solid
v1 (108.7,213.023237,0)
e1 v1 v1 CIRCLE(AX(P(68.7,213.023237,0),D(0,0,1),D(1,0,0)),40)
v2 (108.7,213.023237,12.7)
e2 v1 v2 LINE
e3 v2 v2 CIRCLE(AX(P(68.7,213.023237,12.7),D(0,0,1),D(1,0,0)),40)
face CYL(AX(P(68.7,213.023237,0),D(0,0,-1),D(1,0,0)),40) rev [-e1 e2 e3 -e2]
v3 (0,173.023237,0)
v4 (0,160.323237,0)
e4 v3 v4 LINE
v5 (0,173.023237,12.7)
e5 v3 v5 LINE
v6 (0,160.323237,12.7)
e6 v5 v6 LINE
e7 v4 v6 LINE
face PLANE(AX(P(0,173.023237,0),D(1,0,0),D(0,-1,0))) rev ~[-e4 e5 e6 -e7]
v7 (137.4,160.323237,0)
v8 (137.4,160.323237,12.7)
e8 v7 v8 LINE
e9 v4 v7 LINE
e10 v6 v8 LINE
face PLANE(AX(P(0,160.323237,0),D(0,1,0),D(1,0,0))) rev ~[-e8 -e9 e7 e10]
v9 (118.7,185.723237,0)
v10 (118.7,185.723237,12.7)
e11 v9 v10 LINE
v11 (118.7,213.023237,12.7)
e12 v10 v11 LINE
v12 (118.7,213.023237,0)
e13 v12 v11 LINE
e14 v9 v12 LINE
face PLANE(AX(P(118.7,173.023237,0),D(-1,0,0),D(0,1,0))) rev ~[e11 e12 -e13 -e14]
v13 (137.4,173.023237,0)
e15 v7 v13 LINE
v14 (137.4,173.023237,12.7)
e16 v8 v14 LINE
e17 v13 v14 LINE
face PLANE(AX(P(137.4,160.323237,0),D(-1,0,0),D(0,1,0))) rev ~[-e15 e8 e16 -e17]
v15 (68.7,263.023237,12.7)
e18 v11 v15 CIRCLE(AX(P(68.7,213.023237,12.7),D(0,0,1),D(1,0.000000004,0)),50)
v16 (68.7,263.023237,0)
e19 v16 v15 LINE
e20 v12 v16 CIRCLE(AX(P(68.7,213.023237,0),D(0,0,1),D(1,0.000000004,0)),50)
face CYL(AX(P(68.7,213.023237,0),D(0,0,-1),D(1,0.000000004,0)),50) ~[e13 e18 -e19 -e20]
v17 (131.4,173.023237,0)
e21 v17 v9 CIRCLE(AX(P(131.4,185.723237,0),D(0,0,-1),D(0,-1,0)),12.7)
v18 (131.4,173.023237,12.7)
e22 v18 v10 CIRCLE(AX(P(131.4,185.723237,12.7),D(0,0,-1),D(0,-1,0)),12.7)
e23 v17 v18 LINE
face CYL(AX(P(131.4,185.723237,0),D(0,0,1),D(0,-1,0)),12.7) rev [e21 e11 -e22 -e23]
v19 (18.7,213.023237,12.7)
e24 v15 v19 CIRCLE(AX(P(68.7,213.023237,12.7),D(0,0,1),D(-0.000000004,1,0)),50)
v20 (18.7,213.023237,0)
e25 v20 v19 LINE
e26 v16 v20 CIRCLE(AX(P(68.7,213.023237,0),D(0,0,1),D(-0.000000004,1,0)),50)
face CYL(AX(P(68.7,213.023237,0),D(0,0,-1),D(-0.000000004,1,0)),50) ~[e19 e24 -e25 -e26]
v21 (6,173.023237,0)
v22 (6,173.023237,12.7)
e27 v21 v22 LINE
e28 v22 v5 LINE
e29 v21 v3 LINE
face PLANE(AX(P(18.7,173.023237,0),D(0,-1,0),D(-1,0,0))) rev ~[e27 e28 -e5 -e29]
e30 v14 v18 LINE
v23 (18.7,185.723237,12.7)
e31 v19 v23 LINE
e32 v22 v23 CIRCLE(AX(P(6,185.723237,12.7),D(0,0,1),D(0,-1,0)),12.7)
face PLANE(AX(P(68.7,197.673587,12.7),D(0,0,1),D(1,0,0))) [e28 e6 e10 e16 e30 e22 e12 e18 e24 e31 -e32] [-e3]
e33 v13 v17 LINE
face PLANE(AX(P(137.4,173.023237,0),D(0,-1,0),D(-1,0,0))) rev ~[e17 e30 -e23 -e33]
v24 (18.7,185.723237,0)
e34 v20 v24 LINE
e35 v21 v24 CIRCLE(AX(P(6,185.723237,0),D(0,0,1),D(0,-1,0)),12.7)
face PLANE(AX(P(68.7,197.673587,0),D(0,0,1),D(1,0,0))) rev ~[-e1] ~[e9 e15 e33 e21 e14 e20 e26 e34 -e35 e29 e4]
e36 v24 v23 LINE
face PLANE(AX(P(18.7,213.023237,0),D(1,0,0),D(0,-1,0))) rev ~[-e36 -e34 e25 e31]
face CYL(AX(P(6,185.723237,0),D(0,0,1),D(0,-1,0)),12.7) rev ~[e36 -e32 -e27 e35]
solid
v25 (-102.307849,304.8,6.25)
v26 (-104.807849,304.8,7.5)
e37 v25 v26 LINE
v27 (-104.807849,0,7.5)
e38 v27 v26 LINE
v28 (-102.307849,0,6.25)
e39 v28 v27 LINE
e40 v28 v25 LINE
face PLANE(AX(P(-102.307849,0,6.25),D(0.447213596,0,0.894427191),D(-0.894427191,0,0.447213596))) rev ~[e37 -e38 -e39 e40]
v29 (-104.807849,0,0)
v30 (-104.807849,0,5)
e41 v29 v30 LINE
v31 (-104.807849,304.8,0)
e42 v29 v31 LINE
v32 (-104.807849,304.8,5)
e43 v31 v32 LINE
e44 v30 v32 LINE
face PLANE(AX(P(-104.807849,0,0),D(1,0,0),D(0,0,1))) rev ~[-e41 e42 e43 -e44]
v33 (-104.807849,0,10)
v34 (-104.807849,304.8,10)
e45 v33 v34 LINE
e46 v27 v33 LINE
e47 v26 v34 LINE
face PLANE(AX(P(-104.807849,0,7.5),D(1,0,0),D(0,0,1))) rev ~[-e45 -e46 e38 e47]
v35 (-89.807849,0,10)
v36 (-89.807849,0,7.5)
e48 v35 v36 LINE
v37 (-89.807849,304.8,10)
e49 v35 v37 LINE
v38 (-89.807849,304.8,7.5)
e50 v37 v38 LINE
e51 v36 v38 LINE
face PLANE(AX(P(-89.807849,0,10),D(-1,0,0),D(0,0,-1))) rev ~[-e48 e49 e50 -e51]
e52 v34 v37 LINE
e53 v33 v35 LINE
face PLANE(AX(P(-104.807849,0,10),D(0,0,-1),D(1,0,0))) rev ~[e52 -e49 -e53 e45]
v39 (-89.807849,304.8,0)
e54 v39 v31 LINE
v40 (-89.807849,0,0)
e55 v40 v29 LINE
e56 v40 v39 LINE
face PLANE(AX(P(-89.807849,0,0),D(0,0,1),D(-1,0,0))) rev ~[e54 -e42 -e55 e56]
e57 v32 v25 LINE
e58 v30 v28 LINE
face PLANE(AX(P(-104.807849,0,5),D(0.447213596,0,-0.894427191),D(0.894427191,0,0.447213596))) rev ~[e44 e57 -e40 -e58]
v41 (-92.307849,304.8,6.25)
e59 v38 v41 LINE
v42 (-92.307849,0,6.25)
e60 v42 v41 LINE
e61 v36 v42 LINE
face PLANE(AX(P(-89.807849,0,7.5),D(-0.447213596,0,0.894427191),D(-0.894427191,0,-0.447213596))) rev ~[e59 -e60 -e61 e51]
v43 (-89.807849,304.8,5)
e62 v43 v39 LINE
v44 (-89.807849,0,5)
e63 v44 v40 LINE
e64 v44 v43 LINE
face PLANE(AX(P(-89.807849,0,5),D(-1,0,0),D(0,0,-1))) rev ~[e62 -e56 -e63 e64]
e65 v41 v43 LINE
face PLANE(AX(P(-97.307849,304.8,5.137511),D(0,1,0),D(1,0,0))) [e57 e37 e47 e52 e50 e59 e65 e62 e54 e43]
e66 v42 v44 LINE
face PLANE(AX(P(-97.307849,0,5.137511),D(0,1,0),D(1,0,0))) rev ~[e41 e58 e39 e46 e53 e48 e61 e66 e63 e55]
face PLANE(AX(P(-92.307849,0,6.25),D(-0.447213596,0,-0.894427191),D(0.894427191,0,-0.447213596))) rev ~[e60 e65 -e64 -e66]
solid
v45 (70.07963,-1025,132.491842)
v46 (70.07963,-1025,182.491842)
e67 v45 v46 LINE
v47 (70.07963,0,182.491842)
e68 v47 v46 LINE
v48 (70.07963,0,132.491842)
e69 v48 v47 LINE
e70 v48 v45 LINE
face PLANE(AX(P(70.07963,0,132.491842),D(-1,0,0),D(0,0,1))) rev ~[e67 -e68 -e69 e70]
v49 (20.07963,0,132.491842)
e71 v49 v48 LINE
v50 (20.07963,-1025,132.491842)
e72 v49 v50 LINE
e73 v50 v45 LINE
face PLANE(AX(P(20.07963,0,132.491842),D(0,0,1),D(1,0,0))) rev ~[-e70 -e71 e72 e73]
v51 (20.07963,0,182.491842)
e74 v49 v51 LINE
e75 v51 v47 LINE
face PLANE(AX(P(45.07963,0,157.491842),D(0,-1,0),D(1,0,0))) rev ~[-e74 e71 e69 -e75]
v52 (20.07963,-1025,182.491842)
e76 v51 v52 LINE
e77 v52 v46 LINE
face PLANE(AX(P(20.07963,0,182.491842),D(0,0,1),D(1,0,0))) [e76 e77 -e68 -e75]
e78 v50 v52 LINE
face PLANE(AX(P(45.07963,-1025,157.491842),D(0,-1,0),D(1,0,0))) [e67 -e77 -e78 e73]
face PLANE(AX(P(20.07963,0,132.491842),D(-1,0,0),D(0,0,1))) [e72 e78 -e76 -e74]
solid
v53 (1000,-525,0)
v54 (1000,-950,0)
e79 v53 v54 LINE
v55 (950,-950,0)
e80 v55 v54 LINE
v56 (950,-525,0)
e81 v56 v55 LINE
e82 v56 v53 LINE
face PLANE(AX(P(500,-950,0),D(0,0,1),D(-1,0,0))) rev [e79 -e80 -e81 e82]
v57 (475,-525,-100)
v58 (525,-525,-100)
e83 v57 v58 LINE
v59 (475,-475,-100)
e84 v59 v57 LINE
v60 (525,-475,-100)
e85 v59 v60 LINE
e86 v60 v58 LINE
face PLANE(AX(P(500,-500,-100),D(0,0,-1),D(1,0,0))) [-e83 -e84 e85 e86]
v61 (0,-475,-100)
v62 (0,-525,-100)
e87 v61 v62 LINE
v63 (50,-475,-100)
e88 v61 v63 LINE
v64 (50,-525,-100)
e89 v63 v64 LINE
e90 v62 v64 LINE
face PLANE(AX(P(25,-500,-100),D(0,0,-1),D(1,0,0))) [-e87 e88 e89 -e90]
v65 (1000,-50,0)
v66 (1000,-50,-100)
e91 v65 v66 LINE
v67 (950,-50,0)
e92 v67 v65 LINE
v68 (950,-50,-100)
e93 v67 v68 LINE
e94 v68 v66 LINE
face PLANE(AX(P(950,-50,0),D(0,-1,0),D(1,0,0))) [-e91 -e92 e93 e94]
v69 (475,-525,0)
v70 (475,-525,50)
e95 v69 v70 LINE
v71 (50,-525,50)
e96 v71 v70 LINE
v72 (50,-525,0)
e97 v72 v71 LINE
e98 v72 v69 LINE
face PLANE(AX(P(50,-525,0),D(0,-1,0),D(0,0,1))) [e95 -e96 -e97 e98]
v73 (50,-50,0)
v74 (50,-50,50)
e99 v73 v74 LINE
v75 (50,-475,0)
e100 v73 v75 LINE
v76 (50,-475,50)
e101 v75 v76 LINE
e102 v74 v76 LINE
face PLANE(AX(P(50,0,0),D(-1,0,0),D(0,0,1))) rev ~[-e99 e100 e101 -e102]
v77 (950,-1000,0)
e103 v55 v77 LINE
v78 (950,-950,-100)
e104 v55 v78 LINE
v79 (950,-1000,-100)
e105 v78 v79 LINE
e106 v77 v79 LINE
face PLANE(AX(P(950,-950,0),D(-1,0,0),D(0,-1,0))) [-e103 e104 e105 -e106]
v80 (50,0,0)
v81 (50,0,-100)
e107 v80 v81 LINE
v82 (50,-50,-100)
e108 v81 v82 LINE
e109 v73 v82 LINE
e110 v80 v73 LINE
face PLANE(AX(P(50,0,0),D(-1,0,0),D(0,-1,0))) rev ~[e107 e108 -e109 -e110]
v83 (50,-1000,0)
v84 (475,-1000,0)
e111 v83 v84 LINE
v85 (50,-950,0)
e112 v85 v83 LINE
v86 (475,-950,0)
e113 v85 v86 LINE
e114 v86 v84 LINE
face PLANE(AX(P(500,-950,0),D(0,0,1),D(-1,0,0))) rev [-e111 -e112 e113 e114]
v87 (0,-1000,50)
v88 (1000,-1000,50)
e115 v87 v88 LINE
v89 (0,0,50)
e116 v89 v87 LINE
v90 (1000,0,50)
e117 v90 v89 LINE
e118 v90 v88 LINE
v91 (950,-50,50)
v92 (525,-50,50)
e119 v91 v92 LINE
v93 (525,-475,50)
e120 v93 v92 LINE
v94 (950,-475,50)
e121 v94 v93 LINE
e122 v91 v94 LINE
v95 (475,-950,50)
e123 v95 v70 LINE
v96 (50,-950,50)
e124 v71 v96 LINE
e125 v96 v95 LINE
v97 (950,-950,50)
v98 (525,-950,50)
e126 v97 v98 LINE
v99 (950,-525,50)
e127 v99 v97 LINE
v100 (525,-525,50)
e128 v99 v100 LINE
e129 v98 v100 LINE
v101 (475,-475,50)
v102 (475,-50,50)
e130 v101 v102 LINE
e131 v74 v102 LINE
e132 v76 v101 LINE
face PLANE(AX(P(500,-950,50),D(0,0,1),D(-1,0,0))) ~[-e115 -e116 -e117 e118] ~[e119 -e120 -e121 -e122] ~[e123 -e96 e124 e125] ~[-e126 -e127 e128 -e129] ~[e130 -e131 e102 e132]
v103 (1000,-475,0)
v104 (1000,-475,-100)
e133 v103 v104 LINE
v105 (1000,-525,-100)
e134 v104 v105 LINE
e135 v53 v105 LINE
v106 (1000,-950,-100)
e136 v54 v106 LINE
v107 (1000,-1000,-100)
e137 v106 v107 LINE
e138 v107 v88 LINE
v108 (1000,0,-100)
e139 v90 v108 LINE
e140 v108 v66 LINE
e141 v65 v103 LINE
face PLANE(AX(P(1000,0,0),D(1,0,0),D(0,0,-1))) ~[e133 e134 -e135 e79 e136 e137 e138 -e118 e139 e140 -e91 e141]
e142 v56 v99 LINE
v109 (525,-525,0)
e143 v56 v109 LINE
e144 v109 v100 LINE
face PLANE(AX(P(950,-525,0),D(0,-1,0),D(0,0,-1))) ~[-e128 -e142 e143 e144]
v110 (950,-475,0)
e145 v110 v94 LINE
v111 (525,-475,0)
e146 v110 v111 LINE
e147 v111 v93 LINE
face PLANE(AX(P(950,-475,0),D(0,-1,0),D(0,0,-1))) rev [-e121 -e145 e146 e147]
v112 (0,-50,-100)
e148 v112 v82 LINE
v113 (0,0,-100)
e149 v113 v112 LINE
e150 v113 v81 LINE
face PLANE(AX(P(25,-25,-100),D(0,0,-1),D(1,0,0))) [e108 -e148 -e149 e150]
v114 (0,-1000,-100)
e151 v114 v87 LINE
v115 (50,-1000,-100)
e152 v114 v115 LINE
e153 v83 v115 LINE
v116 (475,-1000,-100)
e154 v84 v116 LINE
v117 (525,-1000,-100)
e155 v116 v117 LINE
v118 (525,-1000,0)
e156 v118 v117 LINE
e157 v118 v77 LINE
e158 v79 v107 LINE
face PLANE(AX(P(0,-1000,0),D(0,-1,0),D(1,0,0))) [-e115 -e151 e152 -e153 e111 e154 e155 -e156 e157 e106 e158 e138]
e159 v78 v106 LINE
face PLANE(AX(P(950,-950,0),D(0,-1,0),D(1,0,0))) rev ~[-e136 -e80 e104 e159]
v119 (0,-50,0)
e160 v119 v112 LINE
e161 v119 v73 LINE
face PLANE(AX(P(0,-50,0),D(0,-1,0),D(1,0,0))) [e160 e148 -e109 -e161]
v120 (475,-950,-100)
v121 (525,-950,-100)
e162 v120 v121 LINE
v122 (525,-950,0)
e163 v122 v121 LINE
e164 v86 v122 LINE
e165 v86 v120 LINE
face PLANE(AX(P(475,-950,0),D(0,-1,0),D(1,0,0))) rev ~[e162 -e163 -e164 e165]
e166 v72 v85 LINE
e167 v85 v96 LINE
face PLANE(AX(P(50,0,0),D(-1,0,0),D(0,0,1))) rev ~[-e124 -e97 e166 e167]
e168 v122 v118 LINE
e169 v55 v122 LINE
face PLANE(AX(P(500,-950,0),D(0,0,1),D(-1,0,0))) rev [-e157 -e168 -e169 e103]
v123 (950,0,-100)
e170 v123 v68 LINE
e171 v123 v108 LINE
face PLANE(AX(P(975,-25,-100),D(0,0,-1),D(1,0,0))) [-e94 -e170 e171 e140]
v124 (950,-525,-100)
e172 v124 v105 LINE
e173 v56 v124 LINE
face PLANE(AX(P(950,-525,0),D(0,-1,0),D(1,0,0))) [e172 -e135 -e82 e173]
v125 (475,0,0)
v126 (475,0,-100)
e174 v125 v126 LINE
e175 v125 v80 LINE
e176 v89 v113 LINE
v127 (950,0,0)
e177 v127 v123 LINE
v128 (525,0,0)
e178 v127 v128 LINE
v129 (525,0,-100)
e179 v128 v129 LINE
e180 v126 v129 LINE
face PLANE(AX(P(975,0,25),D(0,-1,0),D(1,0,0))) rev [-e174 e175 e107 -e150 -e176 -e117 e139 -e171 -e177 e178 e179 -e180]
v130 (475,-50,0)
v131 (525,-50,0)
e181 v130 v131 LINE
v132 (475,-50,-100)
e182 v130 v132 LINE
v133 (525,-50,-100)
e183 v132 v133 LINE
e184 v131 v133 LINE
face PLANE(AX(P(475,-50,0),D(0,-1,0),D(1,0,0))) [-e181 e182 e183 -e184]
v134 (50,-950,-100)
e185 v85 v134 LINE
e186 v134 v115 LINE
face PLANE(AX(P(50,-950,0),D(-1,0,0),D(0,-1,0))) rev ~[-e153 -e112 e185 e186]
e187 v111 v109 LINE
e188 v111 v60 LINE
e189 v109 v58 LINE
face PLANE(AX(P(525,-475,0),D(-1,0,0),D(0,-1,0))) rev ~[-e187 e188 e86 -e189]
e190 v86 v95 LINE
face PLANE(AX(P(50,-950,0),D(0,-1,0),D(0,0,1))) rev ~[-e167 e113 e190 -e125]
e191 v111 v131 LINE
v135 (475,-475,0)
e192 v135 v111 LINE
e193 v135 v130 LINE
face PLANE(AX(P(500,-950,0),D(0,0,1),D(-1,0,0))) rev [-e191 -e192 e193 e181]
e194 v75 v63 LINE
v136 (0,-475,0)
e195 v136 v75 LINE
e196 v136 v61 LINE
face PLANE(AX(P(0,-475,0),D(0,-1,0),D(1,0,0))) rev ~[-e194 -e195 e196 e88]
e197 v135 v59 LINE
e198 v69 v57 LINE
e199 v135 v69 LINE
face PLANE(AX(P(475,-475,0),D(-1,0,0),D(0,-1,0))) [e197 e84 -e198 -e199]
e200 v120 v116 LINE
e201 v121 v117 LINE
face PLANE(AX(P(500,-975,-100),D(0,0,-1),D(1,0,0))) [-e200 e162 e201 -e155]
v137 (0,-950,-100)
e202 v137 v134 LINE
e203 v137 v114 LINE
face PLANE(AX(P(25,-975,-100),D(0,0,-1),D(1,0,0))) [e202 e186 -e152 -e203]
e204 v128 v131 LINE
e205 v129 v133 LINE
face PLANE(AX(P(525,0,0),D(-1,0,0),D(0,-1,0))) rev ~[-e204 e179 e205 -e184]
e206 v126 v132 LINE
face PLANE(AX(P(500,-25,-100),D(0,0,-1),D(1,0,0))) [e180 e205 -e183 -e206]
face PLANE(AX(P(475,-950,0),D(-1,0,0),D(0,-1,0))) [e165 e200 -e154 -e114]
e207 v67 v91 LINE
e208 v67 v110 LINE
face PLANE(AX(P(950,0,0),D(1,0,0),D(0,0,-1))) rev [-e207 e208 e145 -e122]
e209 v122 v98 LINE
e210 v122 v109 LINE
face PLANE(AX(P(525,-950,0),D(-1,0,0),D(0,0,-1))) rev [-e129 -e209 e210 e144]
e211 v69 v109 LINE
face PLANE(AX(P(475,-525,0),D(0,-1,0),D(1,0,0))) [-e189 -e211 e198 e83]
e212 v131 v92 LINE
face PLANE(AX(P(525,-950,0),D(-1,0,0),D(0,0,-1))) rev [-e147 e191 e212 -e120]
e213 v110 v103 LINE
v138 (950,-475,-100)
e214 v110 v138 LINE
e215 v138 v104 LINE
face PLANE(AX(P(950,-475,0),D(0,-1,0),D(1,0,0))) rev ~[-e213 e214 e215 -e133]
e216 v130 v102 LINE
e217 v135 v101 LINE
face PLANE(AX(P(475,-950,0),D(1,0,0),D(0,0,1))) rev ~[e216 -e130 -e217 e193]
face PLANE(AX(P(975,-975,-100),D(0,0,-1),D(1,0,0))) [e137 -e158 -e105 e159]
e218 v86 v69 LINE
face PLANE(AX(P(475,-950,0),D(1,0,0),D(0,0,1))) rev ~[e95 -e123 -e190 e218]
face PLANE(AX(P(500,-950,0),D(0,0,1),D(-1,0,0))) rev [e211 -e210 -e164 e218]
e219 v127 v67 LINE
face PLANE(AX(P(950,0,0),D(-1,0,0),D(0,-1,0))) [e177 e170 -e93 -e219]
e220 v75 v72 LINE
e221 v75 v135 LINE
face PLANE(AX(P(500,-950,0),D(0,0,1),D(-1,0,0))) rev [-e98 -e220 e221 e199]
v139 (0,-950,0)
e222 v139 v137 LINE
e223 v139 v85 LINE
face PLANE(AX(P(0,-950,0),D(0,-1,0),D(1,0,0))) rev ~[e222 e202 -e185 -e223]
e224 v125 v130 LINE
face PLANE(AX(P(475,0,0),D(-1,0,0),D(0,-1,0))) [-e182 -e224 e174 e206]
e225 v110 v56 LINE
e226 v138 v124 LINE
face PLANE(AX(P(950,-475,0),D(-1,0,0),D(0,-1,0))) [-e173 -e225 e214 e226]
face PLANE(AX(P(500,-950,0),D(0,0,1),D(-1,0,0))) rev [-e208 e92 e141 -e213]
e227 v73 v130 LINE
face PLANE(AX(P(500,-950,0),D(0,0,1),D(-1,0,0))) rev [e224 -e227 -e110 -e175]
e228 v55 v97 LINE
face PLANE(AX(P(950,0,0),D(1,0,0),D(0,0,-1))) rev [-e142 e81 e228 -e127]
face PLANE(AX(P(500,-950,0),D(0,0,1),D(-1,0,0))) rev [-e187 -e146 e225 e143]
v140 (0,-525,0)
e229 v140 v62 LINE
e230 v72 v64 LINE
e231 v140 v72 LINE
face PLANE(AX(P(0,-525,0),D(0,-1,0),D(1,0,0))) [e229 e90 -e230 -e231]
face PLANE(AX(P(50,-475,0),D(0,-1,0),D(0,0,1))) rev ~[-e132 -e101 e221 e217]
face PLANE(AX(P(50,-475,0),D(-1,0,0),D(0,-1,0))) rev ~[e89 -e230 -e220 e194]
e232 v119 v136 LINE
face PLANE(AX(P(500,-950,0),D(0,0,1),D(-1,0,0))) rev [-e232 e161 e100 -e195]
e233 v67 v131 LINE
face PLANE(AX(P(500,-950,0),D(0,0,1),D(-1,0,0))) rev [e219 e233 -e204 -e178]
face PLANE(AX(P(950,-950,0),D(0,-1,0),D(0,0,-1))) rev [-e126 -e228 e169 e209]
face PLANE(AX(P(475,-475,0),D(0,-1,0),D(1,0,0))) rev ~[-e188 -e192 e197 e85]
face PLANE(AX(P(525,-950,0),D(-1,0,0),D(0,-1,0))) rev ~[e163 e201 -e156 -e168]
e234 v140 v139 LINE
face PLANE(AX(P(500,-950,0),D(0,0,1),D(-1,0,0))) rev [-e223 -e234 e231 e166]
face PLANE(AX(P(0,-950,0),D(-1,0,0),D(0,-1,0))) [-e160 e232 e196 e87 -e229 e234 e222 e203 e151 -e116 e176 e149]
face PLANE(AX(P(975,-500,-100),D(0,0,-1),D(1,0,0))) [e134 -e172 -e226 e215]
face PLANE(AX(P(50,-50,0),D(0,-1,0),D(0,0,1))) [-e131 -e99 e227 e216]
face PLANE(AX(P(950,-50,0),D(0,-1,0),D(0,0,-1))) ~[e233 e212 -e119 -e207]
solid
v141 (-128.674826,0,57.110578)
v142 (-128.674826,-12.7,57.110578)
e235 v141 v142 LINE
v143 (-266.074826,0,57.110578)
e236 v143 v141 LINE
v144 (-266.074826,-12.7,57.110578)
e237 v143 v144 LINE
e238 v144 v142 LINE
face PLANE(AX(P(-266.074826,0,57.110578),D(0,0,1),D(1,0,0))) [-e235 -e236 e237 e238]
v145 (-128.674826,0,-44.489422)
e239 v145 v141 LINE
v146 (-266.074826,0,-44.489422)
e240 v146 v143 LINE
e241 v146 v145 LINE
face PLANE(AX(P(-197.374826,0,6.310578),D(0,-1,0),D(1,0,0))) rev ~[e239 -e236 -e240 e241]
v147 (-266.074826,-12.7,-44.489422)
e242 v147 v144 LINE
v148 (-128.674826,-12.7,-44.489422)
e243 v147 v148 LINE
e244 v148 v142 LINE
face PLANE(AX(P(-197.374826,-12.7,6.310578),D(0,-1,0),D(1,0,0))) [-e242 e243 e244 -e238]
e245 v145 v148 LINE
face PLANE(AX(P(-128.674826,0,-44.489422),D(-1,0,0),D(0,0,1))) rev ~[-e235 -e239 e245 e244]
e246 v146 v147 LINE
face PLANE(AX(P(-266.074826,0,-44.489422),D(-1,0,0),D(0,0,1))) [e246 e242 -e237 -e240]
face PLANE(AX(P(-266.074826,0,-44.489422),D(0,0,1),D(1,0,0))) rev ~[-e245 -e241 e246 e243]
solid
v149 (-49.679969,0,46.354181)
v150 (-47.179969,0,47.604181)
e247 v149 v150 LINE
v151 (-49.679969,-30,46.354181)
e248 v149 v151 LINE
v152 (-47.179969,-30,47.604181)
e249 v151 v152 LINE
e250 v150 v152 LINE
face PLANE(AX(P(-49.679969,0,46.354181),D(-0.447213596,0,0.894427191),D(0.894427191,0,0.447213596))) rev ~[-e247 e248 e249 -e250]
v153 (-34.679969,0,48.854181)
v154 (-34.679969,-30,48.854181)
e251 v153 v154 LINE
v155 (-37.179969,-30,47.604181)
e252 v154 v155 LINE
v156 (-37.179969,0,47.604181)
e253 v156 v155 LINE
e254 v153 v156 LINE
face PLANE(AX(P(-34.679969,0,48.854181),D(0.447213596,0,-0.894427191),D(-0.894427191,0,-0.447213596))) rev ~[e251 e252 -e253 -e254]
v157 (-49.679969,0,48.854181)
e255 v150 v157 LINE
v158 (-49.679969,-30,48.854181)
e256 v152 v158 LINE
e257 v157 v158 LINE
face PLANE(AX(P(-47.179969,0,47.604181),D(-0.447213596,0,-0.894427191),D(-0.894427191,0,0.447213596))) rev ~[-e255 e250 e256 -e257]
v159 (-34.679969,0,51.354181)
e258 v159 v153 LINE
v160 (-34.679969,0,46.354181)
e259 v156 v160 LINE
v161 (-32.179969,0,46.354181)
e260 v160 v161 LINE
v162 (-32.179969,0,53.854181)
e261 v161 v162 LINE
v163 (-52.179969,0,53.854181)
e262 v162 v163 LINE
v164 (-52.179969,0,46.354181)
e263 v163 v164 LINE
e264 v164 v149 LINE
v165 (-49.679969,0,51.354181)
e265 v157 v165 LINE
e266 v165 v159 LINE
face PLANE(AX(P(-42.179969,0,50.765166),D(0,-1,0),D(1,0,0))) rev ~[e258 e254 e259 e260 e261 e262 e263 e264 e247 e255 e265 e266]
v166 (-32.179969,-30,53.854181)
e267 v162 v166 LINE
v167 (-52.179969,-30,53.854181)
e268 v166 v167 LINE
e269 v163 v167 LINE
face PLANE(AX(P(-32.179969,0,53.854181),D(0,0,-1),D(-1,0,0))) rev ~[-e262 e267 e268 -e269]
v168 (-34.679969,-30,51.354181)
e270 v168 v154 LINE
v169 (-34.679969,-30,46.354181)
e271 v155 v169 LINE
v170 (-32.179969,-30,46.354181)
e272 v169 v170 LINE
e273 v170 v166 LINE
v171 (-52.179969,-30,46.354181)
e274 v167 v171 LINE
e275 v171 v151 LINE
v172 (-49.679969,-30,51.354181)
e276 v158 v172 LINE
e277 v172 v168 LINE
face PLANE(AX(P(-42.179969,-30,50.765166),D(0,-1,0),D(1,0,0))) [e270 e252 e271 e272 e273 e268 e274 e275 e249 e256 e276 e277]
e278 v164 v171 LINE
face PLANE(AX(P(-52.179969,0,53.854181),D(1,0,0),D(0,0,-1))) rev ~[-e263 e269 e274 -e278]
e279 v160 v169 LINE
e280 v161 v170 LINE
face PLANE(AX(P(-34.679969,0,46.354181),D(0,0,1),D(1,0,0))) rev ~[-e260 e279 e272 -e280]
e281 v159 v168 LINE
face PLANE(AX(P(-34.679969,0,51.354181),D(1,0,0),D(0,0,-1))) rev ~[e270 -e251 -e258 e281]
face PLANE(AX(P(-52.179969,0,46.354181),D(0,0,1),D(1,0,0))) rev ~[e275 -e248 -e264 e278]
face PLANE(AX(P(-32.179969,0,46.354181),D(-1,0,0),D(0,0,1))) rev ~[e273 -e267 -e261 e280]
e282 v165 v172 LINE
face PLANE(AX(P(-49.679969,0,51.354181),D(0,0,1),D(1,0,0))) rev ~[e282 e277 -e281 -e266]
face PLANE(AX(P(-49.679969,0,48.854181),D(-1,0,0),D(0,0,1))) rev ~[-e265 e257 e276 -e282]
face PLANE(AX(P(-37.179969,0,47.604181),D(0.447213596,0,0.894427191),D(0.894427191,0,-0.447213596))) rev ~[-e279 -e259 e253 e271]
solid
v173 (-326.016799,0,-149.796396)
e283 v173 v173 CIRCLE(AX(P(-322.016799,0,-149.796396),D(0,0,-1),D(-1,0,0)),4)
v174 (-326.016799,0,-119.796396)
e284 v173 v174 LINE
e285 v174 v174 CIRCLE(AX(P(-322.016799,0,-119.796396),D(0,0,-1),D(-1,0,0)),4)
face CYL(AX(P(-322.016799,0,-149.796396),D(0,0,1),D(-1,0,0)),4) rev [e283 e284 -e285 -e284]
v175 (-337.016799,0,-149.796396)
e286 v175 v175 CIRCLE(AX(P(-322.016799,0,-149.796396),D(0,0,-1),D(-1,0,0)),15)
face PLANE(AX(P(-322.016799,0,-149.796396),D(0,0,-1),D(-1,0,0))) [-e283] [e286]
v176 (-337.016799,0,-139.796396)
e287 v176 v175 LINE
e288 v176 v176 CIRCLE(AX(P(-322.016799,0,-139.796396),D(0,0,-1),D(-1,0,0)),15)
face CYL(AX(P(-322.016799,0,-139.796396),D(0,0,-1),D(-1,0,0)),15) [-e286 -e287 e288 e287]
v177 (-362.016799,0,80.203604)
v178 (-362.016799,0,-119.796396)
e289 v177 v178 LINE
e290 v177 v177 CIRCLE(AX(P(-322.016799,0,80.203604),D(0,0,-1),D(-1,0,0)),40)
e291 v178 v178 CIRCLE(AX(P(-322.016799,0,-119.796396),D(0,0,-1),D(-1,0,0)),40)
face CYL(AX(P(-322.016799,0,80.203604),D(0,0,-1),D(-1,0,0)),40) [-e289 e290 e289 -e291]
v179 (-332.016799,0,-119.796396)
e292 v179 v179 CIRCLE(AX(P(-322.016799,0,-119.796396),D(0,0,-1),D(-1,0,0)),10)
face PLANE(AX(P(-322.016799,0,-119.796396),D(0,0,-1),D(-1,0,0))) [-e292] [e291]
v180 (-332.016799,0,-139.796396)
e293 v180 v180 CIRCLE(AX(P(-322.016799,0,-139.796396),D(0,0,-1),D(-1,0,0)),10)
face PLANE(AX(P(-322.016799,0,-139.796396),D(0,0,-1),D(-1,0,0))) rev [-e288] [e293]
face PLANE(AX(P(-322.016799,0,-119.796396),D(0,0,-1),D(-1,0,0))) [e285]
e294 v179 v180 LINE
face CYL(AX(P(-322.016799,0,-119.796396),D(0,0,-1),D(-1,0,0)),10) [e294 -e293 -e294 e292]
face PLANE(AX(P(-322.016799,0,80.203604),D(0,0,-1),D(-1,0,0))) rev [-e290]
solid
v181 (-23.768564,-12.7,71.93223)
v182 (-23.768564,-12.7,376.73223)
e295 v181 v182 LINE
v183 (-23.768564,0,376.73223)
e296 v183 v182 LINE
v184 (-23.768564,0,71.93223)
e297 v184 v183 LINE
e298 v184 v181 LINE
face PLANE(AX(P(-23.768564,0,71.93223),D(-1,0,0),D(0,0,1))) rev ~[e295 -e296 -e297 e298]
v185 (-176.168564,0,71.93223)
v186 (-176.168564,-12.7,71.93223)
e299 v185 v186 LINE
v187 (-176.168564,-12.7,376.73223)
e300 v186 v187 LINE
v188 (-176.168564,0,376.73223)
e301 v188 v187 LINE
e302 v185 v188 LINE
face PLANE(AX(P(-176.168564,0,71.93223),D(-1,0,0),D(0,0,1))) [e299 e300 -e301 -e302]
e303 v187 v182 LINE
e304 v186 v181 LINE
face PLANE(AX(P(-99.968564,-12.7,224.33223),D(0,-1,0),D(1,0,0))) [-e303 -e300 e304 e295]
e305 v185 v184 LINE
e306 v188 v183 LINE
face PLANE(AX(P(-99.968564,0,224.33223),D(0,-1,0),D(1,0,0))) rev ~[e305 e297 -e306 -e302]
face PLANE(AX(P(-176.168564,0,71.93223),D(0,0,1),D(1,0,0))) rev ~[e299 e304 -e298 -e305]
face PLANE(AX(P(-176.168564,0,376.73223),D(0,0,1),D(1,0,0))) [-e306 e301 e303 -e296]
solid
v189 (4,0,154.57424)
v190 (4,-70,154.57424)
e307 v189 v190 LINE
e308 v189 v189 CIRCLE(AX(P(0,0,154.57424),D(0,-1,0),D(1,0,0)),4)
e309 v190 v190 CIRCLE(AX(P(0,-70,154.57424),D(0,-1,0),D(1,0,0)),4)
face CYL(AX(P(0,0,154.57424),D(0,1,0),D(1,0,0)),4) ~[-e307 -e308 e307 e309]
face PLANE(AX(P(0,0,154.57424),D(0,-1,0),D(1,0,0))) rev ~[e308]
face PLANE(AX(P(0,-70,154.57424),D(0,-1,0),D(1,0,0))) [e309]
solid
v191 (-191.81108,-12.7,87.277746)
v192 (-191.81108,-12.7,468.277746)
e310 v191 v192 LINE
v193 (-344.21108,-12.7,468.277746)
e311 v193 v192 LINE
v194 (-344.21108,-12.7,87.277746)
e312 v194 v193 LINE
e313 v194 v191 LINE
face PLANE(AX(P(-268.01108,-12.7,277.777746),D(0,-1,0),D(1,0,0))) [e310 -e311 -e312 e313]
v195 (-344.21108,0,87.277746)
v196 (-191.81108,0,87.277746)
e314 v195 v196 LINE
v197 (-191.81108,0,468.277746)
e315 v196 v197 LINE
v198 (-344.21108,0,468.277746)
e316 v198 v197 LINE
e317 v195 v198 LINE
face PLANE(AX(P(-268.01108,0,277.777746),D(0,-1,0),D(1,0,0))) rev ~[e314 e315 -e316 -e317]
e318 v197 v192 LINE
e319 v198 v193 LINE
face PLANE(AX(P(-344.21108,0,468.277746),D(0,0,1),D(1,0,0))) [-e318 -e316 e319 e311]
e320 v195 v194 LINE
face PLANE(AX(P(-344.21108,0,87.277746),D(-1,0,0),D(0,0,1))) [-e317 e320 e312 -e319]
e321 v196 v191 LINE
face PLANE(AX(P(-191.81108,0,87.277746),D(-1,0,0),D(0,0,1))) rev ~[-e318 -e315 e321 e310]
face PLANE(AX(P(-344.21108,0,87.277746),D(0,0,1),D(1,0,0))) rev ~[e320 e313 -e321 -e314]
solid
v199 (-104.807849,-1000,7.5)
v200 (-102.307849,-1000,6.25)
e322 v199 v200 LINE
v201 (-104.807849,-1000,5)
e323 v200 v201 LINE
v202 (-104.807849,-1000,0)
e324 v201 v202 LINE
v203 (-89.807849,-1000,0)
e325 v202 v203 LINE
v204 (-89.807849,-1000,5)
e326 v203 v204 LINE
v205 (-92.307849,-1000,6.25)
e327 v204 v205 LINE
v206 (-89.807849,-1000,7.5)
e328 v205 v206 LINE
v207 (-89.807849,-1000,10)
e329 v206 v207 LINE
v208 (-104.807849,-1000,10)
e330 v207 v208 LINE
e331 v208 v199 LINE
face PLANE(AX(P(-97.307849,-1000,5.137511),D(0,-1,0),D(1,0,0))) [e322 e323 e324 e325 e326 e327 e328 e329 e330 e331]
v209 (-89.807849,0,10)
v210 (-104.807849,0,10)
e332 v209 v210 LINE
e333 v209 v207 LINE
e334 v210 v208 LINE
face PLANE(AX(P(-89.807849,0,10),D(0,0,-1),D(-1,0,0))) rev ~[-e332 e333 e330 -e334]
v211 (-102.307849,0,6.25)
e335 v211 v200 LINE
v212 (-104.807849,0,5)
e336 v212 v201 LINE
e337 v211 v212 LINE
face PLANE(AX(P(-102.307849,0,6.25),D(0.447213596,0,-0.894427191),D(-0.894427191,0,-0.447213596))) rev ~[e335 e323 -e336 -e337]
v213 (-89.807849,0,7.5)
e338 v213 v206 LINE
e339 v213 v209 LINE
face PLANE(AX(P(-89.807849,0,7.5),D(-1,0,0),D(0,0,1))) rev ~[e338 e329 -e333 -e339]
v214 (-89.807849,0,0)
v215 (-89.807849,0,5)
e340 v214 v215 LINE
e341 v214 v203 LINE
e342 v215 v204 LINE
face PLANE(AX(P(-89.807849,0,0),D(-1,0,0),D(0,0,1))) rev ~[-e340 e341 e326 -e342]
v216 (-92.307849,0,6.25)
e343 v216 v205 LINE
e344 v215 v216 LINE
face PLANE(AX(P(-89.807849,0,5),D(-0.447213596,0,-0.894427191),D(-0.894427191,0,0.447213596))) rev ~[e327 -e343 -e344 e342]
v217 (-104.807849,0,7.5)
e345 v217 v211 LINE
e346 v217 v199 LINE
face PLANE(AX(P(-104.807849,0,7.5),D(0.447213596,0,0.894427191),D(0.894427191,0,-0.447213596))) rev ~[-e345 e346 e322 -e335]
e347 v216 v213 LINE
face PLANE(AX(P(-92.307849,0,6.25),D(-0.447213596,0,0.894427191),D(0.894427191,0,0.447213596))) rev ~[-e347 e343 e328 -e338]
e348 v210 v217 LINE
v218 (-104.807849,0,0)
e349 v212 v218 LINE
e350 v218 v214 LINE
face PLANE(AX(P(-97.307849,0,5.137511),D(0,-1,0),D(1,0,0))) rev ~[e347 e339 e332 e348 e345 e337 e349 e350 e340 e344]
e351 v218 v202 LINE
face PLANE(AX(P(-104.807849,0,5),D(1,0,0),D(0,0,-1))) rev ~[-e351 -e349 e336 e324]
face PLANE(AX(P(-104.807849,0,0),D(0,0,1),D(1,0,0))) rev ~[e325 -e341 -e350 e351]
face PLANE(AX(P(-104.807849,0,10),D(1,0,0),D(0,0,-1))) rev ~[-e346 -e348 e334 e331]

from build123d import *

# Parameters (mm, degrees)
F0_W      = 50
F0_H      = 50
F1_DEPTH  = 1000
F2_W      = 50
F2_H      = 50
F3_DEPTH  = 450
F4_W      = 25
F4_H      = 50
F5_DEPTH  = 900
F7_W      = 50
F7_H      = 50
F8_DEPTH  = 100
F10_DEPTH = 1000
F11_W     = 152.4
F11_H     = 381
F12_DEPTH = 12.7
F14_DEPTH = 30
F15_W     = 50
F15_H     = 50
F16_DEPTH = 1025
F17_W     = 152.4
F17_H     = 304.8
F18_DEPTH = 12.7
F19_DEPTH = 304.8
F20_W     = 137.4
F20_H     = 101.6
F21_DEPTH = 12.7
F22_R     = 40
F23_DEPTH = 12.7
F24_R     = 12.7
F27_R     = 4
F28_DEPTH = 70


with BuildPart() as f1:
    # F0 (on Front) → F1 (new body)
    with BuildSketch(Plane.XZ):
        with Locations((25, 25)):
            Rectangle(F0_W, F0_H)
    extrude(amount=F1_DEPTH)

    # F2 (on face) → F3 (join)
    with BuildSketch(Plane.YZ.offset(50)):
        with Locations((-500, 25)):
            Rectangle(F2_W, F2_H)
        with Locations((-975, 25)):
            Rectangle(F2_W, F2_H)
        with Locations((-25, 25)):
            Rectangle(F2_W, F2_H)
    extrude(amount=F3_DEPTH)

    # F4 (on face) → F5 (join)
    with BuildSketch(Plane(origin=(0, -950, 0), x_dir=(-1, 0, 0), z_dir=(0, 1, 0))):
        with Locations((-487.5, 25)):
            Rectangle(F4_W, F4_H)
    extrude(amount=F5_DEPTH)

    # F6: F1 across face


with BuildPart() as f1_1:
    add(f1.part)
    add(f1.part.mirror(Plane(origin=(500, -500, 25), x_dir=(0, 1, 0), z_dir=(1, 0, 0))))

    # F7 (on face) → F8 (join)
    with BuildSketch(Plane(origin=(0, 0, 0), x_dir=(1, 0, 0), z_dir=(0, 0, -1))):
        with Locations((25, 975)):
            Rectangle(F7_W, F7_H)
        with Locations((975, 975)):
            Rectangle(F7_W, F7_H)
        with Locations((975, 25)):
            Rectangle(F7_W, F7_H)
        with Locations((25, 25)):
            Rectangle(F7_W, F7_H)
        with Locations((25, 500)):
            Rectangle(F7_W, F7_H)
        with Locations((975, 500)):
            Rectangle(F7_W, F7_H)
        with Locations((500, 25)):
            Rectangle(F7_W, F7_H)
        with Locations((500, 500)):
            Rectangle(F7_W, F7_H)
        with Locations((500, 975)):
            Rectangle(F7_W, F7_H)
    extrude(amount=F8_DEPTH)


with BuildPart() as f10:
    # F9 (on Front) → F10 (new body)
    with BuildSketch(Plane.XZ):
        Polygon((-104.807849, 5), (-104.807849, 0), (-89.807849, 0), (-89.807849, 5), (-92.307849, 6.25), (-89.807849, 7.5), (-89.807849, 10), (-104.807849, 10), (-104.807849, 7.5), (-102.307849, 6.25), align=None)
    extrude(amount=F10_DEPTH)


with BuildPart() as f12:
    # F11 (on Front) → F12 (new body)
    with BuildSketch(Plane.XZ):
        with Locations((-268.01108, 277.777746)):
            Rectangle(F11_W, F11_H)
    extrude(amount=F12_DEPTH)


with BuildPart() as f14:
    # F13 (on Front) → F14 (new body)
    with BuildSketch(Plane.XZ):
        Polygon((-34.679969, 46.354181), (-32.179969, 46.354181), (-32.179969, 53.854181), (-52.179969, 53.854181), (-52.179969, 46.354181), (-49.679969, 46.354181), (-47.179969, 47.604181), (-49.679969, 48.854181), (-49.679969, 51.354181), (-34.679969, 51.354181), (-34.679969, 48.854181), (-37.179969, 47.604181), align=None)
    extrude(amount=F14_DEPTH)


with BuildPart() as f16:
    # F15 (on Front) → F16 (new body)
    with BuildSketch(Plane.XZ):
        with Locations((45.07963, 157.491842)):
            Rectangle(F15_W, F15_H)
    extrude(amount=F16_DEPTH)


with BuildPart() as f18:
    # F17 (on Front) → F18 (new body)
    with BuildSketch(Plane.XZ):
        with Locations((-99.968564, 224.33223)):
            Rectangle(F17_W, F17_H)
    extrude(amount=F18_DEPTH)


with BuildPart() as f19:
    # F10_face (on face) → F19 (new body)
    with BuildSketch(Plane(origin=(-97.307849, 0, 4.945652), x_dir=(1, 0, 0), z_dir=(0, 1, 0))):
        Polygon((-7.5, 4.945652), (-7.5, -0.054348), (-5, -1.304348), (-7.5, -2.554348), (-7.5, -5.054348), (7.5, -5.054348), (7.5, -2.554348), (5, -1.304348), (7.5, -0.054348), (7.5, 4.945652), align=None)
    extrude(amount=F19_DEPTH)


with BuildPart() as f21:
    # F20 (on Front) → F21 (new body)
    with BuildSketch(Plane.XZ):
        with Locations((-197.374826, 6.310578)):
            Rectangle(F20_W, F20_H)
    extrude(amount=F21_DEPTH)


with BuildPart() as f23:
    # F22 (on Top) → F23 (new body)
    with BuildSketch(Plane.XY):
        with BuildLine():
            Line((0, 173.023237), (0, 160.323237))
            Line((0, 160.323237), (137.4, 160.323237))
            Line((137.4, 160.323237), (137.4, 173.023237))
            Line((137.4, 173.023237), (118.7, 173.023237))
            Line((118.7, 173.023237), (118.7, 213.023237))
            ThreePointArc((118.7, 213.023237), (104.055339, 248.378576), (68.7, 263.023237))
            ThreePointArc((68.7, 263.023237), (33.344661, 248.378576), (18.7, 213.023237))
            Line((18.7, 213.023237), (18.7, 173.023237))
            Line((18.7, 173.023237), (0, 173.023237))
        make_face()
        with Locations((68.7, 213.023237)):
            Circle(F22_R, mode=Mode.SUBTRACT)
    extrude(amount=F23_DEPTH)

    # F24
    f24_edges = [f23.edges().sort_by_distance(p)[0] for p in [
        (118.7, 173.023237, 6.35),
        (18.7, 173.023237, 6.35),
    ]]
    fillet(f24_edges, radius=F24_R)


with BuildPart() as f26:
    # F25 (on Front) → F26 (revolve)
    with BuildSketch(Plane.XZ):
        Polygon((-337.016799, -149.796396), (-326.016799, -149.796396), (-326.016799, -119.796396), (-322.016799, -119.796396), (-322.016799, 80.203604), (-362.016799, 80.203604), (-362.016799, -119.796396), (-332.016799, -119.796396), (-332.016799, -139.796396), (-337.016799, -139.796396), align=None)
    revolve(axis=Axis((-322.016799, 0, -19.796396), (0, 0, -1)))


with BuildPart() as f28:
    # F27 (on Front) → F28 (new body)
    with BuildSketch(Plane.XZ):
        with Locations((0, 154.57424)):
            Circle(F27_R)
    extrude(amount=F28_DEPTH)


solid = Compound([f1_1.part, f10.part, f12.part, f14.part, f16.part, f18.part, f19.part, f21.part, f23.part, f26.part, f28.part])
